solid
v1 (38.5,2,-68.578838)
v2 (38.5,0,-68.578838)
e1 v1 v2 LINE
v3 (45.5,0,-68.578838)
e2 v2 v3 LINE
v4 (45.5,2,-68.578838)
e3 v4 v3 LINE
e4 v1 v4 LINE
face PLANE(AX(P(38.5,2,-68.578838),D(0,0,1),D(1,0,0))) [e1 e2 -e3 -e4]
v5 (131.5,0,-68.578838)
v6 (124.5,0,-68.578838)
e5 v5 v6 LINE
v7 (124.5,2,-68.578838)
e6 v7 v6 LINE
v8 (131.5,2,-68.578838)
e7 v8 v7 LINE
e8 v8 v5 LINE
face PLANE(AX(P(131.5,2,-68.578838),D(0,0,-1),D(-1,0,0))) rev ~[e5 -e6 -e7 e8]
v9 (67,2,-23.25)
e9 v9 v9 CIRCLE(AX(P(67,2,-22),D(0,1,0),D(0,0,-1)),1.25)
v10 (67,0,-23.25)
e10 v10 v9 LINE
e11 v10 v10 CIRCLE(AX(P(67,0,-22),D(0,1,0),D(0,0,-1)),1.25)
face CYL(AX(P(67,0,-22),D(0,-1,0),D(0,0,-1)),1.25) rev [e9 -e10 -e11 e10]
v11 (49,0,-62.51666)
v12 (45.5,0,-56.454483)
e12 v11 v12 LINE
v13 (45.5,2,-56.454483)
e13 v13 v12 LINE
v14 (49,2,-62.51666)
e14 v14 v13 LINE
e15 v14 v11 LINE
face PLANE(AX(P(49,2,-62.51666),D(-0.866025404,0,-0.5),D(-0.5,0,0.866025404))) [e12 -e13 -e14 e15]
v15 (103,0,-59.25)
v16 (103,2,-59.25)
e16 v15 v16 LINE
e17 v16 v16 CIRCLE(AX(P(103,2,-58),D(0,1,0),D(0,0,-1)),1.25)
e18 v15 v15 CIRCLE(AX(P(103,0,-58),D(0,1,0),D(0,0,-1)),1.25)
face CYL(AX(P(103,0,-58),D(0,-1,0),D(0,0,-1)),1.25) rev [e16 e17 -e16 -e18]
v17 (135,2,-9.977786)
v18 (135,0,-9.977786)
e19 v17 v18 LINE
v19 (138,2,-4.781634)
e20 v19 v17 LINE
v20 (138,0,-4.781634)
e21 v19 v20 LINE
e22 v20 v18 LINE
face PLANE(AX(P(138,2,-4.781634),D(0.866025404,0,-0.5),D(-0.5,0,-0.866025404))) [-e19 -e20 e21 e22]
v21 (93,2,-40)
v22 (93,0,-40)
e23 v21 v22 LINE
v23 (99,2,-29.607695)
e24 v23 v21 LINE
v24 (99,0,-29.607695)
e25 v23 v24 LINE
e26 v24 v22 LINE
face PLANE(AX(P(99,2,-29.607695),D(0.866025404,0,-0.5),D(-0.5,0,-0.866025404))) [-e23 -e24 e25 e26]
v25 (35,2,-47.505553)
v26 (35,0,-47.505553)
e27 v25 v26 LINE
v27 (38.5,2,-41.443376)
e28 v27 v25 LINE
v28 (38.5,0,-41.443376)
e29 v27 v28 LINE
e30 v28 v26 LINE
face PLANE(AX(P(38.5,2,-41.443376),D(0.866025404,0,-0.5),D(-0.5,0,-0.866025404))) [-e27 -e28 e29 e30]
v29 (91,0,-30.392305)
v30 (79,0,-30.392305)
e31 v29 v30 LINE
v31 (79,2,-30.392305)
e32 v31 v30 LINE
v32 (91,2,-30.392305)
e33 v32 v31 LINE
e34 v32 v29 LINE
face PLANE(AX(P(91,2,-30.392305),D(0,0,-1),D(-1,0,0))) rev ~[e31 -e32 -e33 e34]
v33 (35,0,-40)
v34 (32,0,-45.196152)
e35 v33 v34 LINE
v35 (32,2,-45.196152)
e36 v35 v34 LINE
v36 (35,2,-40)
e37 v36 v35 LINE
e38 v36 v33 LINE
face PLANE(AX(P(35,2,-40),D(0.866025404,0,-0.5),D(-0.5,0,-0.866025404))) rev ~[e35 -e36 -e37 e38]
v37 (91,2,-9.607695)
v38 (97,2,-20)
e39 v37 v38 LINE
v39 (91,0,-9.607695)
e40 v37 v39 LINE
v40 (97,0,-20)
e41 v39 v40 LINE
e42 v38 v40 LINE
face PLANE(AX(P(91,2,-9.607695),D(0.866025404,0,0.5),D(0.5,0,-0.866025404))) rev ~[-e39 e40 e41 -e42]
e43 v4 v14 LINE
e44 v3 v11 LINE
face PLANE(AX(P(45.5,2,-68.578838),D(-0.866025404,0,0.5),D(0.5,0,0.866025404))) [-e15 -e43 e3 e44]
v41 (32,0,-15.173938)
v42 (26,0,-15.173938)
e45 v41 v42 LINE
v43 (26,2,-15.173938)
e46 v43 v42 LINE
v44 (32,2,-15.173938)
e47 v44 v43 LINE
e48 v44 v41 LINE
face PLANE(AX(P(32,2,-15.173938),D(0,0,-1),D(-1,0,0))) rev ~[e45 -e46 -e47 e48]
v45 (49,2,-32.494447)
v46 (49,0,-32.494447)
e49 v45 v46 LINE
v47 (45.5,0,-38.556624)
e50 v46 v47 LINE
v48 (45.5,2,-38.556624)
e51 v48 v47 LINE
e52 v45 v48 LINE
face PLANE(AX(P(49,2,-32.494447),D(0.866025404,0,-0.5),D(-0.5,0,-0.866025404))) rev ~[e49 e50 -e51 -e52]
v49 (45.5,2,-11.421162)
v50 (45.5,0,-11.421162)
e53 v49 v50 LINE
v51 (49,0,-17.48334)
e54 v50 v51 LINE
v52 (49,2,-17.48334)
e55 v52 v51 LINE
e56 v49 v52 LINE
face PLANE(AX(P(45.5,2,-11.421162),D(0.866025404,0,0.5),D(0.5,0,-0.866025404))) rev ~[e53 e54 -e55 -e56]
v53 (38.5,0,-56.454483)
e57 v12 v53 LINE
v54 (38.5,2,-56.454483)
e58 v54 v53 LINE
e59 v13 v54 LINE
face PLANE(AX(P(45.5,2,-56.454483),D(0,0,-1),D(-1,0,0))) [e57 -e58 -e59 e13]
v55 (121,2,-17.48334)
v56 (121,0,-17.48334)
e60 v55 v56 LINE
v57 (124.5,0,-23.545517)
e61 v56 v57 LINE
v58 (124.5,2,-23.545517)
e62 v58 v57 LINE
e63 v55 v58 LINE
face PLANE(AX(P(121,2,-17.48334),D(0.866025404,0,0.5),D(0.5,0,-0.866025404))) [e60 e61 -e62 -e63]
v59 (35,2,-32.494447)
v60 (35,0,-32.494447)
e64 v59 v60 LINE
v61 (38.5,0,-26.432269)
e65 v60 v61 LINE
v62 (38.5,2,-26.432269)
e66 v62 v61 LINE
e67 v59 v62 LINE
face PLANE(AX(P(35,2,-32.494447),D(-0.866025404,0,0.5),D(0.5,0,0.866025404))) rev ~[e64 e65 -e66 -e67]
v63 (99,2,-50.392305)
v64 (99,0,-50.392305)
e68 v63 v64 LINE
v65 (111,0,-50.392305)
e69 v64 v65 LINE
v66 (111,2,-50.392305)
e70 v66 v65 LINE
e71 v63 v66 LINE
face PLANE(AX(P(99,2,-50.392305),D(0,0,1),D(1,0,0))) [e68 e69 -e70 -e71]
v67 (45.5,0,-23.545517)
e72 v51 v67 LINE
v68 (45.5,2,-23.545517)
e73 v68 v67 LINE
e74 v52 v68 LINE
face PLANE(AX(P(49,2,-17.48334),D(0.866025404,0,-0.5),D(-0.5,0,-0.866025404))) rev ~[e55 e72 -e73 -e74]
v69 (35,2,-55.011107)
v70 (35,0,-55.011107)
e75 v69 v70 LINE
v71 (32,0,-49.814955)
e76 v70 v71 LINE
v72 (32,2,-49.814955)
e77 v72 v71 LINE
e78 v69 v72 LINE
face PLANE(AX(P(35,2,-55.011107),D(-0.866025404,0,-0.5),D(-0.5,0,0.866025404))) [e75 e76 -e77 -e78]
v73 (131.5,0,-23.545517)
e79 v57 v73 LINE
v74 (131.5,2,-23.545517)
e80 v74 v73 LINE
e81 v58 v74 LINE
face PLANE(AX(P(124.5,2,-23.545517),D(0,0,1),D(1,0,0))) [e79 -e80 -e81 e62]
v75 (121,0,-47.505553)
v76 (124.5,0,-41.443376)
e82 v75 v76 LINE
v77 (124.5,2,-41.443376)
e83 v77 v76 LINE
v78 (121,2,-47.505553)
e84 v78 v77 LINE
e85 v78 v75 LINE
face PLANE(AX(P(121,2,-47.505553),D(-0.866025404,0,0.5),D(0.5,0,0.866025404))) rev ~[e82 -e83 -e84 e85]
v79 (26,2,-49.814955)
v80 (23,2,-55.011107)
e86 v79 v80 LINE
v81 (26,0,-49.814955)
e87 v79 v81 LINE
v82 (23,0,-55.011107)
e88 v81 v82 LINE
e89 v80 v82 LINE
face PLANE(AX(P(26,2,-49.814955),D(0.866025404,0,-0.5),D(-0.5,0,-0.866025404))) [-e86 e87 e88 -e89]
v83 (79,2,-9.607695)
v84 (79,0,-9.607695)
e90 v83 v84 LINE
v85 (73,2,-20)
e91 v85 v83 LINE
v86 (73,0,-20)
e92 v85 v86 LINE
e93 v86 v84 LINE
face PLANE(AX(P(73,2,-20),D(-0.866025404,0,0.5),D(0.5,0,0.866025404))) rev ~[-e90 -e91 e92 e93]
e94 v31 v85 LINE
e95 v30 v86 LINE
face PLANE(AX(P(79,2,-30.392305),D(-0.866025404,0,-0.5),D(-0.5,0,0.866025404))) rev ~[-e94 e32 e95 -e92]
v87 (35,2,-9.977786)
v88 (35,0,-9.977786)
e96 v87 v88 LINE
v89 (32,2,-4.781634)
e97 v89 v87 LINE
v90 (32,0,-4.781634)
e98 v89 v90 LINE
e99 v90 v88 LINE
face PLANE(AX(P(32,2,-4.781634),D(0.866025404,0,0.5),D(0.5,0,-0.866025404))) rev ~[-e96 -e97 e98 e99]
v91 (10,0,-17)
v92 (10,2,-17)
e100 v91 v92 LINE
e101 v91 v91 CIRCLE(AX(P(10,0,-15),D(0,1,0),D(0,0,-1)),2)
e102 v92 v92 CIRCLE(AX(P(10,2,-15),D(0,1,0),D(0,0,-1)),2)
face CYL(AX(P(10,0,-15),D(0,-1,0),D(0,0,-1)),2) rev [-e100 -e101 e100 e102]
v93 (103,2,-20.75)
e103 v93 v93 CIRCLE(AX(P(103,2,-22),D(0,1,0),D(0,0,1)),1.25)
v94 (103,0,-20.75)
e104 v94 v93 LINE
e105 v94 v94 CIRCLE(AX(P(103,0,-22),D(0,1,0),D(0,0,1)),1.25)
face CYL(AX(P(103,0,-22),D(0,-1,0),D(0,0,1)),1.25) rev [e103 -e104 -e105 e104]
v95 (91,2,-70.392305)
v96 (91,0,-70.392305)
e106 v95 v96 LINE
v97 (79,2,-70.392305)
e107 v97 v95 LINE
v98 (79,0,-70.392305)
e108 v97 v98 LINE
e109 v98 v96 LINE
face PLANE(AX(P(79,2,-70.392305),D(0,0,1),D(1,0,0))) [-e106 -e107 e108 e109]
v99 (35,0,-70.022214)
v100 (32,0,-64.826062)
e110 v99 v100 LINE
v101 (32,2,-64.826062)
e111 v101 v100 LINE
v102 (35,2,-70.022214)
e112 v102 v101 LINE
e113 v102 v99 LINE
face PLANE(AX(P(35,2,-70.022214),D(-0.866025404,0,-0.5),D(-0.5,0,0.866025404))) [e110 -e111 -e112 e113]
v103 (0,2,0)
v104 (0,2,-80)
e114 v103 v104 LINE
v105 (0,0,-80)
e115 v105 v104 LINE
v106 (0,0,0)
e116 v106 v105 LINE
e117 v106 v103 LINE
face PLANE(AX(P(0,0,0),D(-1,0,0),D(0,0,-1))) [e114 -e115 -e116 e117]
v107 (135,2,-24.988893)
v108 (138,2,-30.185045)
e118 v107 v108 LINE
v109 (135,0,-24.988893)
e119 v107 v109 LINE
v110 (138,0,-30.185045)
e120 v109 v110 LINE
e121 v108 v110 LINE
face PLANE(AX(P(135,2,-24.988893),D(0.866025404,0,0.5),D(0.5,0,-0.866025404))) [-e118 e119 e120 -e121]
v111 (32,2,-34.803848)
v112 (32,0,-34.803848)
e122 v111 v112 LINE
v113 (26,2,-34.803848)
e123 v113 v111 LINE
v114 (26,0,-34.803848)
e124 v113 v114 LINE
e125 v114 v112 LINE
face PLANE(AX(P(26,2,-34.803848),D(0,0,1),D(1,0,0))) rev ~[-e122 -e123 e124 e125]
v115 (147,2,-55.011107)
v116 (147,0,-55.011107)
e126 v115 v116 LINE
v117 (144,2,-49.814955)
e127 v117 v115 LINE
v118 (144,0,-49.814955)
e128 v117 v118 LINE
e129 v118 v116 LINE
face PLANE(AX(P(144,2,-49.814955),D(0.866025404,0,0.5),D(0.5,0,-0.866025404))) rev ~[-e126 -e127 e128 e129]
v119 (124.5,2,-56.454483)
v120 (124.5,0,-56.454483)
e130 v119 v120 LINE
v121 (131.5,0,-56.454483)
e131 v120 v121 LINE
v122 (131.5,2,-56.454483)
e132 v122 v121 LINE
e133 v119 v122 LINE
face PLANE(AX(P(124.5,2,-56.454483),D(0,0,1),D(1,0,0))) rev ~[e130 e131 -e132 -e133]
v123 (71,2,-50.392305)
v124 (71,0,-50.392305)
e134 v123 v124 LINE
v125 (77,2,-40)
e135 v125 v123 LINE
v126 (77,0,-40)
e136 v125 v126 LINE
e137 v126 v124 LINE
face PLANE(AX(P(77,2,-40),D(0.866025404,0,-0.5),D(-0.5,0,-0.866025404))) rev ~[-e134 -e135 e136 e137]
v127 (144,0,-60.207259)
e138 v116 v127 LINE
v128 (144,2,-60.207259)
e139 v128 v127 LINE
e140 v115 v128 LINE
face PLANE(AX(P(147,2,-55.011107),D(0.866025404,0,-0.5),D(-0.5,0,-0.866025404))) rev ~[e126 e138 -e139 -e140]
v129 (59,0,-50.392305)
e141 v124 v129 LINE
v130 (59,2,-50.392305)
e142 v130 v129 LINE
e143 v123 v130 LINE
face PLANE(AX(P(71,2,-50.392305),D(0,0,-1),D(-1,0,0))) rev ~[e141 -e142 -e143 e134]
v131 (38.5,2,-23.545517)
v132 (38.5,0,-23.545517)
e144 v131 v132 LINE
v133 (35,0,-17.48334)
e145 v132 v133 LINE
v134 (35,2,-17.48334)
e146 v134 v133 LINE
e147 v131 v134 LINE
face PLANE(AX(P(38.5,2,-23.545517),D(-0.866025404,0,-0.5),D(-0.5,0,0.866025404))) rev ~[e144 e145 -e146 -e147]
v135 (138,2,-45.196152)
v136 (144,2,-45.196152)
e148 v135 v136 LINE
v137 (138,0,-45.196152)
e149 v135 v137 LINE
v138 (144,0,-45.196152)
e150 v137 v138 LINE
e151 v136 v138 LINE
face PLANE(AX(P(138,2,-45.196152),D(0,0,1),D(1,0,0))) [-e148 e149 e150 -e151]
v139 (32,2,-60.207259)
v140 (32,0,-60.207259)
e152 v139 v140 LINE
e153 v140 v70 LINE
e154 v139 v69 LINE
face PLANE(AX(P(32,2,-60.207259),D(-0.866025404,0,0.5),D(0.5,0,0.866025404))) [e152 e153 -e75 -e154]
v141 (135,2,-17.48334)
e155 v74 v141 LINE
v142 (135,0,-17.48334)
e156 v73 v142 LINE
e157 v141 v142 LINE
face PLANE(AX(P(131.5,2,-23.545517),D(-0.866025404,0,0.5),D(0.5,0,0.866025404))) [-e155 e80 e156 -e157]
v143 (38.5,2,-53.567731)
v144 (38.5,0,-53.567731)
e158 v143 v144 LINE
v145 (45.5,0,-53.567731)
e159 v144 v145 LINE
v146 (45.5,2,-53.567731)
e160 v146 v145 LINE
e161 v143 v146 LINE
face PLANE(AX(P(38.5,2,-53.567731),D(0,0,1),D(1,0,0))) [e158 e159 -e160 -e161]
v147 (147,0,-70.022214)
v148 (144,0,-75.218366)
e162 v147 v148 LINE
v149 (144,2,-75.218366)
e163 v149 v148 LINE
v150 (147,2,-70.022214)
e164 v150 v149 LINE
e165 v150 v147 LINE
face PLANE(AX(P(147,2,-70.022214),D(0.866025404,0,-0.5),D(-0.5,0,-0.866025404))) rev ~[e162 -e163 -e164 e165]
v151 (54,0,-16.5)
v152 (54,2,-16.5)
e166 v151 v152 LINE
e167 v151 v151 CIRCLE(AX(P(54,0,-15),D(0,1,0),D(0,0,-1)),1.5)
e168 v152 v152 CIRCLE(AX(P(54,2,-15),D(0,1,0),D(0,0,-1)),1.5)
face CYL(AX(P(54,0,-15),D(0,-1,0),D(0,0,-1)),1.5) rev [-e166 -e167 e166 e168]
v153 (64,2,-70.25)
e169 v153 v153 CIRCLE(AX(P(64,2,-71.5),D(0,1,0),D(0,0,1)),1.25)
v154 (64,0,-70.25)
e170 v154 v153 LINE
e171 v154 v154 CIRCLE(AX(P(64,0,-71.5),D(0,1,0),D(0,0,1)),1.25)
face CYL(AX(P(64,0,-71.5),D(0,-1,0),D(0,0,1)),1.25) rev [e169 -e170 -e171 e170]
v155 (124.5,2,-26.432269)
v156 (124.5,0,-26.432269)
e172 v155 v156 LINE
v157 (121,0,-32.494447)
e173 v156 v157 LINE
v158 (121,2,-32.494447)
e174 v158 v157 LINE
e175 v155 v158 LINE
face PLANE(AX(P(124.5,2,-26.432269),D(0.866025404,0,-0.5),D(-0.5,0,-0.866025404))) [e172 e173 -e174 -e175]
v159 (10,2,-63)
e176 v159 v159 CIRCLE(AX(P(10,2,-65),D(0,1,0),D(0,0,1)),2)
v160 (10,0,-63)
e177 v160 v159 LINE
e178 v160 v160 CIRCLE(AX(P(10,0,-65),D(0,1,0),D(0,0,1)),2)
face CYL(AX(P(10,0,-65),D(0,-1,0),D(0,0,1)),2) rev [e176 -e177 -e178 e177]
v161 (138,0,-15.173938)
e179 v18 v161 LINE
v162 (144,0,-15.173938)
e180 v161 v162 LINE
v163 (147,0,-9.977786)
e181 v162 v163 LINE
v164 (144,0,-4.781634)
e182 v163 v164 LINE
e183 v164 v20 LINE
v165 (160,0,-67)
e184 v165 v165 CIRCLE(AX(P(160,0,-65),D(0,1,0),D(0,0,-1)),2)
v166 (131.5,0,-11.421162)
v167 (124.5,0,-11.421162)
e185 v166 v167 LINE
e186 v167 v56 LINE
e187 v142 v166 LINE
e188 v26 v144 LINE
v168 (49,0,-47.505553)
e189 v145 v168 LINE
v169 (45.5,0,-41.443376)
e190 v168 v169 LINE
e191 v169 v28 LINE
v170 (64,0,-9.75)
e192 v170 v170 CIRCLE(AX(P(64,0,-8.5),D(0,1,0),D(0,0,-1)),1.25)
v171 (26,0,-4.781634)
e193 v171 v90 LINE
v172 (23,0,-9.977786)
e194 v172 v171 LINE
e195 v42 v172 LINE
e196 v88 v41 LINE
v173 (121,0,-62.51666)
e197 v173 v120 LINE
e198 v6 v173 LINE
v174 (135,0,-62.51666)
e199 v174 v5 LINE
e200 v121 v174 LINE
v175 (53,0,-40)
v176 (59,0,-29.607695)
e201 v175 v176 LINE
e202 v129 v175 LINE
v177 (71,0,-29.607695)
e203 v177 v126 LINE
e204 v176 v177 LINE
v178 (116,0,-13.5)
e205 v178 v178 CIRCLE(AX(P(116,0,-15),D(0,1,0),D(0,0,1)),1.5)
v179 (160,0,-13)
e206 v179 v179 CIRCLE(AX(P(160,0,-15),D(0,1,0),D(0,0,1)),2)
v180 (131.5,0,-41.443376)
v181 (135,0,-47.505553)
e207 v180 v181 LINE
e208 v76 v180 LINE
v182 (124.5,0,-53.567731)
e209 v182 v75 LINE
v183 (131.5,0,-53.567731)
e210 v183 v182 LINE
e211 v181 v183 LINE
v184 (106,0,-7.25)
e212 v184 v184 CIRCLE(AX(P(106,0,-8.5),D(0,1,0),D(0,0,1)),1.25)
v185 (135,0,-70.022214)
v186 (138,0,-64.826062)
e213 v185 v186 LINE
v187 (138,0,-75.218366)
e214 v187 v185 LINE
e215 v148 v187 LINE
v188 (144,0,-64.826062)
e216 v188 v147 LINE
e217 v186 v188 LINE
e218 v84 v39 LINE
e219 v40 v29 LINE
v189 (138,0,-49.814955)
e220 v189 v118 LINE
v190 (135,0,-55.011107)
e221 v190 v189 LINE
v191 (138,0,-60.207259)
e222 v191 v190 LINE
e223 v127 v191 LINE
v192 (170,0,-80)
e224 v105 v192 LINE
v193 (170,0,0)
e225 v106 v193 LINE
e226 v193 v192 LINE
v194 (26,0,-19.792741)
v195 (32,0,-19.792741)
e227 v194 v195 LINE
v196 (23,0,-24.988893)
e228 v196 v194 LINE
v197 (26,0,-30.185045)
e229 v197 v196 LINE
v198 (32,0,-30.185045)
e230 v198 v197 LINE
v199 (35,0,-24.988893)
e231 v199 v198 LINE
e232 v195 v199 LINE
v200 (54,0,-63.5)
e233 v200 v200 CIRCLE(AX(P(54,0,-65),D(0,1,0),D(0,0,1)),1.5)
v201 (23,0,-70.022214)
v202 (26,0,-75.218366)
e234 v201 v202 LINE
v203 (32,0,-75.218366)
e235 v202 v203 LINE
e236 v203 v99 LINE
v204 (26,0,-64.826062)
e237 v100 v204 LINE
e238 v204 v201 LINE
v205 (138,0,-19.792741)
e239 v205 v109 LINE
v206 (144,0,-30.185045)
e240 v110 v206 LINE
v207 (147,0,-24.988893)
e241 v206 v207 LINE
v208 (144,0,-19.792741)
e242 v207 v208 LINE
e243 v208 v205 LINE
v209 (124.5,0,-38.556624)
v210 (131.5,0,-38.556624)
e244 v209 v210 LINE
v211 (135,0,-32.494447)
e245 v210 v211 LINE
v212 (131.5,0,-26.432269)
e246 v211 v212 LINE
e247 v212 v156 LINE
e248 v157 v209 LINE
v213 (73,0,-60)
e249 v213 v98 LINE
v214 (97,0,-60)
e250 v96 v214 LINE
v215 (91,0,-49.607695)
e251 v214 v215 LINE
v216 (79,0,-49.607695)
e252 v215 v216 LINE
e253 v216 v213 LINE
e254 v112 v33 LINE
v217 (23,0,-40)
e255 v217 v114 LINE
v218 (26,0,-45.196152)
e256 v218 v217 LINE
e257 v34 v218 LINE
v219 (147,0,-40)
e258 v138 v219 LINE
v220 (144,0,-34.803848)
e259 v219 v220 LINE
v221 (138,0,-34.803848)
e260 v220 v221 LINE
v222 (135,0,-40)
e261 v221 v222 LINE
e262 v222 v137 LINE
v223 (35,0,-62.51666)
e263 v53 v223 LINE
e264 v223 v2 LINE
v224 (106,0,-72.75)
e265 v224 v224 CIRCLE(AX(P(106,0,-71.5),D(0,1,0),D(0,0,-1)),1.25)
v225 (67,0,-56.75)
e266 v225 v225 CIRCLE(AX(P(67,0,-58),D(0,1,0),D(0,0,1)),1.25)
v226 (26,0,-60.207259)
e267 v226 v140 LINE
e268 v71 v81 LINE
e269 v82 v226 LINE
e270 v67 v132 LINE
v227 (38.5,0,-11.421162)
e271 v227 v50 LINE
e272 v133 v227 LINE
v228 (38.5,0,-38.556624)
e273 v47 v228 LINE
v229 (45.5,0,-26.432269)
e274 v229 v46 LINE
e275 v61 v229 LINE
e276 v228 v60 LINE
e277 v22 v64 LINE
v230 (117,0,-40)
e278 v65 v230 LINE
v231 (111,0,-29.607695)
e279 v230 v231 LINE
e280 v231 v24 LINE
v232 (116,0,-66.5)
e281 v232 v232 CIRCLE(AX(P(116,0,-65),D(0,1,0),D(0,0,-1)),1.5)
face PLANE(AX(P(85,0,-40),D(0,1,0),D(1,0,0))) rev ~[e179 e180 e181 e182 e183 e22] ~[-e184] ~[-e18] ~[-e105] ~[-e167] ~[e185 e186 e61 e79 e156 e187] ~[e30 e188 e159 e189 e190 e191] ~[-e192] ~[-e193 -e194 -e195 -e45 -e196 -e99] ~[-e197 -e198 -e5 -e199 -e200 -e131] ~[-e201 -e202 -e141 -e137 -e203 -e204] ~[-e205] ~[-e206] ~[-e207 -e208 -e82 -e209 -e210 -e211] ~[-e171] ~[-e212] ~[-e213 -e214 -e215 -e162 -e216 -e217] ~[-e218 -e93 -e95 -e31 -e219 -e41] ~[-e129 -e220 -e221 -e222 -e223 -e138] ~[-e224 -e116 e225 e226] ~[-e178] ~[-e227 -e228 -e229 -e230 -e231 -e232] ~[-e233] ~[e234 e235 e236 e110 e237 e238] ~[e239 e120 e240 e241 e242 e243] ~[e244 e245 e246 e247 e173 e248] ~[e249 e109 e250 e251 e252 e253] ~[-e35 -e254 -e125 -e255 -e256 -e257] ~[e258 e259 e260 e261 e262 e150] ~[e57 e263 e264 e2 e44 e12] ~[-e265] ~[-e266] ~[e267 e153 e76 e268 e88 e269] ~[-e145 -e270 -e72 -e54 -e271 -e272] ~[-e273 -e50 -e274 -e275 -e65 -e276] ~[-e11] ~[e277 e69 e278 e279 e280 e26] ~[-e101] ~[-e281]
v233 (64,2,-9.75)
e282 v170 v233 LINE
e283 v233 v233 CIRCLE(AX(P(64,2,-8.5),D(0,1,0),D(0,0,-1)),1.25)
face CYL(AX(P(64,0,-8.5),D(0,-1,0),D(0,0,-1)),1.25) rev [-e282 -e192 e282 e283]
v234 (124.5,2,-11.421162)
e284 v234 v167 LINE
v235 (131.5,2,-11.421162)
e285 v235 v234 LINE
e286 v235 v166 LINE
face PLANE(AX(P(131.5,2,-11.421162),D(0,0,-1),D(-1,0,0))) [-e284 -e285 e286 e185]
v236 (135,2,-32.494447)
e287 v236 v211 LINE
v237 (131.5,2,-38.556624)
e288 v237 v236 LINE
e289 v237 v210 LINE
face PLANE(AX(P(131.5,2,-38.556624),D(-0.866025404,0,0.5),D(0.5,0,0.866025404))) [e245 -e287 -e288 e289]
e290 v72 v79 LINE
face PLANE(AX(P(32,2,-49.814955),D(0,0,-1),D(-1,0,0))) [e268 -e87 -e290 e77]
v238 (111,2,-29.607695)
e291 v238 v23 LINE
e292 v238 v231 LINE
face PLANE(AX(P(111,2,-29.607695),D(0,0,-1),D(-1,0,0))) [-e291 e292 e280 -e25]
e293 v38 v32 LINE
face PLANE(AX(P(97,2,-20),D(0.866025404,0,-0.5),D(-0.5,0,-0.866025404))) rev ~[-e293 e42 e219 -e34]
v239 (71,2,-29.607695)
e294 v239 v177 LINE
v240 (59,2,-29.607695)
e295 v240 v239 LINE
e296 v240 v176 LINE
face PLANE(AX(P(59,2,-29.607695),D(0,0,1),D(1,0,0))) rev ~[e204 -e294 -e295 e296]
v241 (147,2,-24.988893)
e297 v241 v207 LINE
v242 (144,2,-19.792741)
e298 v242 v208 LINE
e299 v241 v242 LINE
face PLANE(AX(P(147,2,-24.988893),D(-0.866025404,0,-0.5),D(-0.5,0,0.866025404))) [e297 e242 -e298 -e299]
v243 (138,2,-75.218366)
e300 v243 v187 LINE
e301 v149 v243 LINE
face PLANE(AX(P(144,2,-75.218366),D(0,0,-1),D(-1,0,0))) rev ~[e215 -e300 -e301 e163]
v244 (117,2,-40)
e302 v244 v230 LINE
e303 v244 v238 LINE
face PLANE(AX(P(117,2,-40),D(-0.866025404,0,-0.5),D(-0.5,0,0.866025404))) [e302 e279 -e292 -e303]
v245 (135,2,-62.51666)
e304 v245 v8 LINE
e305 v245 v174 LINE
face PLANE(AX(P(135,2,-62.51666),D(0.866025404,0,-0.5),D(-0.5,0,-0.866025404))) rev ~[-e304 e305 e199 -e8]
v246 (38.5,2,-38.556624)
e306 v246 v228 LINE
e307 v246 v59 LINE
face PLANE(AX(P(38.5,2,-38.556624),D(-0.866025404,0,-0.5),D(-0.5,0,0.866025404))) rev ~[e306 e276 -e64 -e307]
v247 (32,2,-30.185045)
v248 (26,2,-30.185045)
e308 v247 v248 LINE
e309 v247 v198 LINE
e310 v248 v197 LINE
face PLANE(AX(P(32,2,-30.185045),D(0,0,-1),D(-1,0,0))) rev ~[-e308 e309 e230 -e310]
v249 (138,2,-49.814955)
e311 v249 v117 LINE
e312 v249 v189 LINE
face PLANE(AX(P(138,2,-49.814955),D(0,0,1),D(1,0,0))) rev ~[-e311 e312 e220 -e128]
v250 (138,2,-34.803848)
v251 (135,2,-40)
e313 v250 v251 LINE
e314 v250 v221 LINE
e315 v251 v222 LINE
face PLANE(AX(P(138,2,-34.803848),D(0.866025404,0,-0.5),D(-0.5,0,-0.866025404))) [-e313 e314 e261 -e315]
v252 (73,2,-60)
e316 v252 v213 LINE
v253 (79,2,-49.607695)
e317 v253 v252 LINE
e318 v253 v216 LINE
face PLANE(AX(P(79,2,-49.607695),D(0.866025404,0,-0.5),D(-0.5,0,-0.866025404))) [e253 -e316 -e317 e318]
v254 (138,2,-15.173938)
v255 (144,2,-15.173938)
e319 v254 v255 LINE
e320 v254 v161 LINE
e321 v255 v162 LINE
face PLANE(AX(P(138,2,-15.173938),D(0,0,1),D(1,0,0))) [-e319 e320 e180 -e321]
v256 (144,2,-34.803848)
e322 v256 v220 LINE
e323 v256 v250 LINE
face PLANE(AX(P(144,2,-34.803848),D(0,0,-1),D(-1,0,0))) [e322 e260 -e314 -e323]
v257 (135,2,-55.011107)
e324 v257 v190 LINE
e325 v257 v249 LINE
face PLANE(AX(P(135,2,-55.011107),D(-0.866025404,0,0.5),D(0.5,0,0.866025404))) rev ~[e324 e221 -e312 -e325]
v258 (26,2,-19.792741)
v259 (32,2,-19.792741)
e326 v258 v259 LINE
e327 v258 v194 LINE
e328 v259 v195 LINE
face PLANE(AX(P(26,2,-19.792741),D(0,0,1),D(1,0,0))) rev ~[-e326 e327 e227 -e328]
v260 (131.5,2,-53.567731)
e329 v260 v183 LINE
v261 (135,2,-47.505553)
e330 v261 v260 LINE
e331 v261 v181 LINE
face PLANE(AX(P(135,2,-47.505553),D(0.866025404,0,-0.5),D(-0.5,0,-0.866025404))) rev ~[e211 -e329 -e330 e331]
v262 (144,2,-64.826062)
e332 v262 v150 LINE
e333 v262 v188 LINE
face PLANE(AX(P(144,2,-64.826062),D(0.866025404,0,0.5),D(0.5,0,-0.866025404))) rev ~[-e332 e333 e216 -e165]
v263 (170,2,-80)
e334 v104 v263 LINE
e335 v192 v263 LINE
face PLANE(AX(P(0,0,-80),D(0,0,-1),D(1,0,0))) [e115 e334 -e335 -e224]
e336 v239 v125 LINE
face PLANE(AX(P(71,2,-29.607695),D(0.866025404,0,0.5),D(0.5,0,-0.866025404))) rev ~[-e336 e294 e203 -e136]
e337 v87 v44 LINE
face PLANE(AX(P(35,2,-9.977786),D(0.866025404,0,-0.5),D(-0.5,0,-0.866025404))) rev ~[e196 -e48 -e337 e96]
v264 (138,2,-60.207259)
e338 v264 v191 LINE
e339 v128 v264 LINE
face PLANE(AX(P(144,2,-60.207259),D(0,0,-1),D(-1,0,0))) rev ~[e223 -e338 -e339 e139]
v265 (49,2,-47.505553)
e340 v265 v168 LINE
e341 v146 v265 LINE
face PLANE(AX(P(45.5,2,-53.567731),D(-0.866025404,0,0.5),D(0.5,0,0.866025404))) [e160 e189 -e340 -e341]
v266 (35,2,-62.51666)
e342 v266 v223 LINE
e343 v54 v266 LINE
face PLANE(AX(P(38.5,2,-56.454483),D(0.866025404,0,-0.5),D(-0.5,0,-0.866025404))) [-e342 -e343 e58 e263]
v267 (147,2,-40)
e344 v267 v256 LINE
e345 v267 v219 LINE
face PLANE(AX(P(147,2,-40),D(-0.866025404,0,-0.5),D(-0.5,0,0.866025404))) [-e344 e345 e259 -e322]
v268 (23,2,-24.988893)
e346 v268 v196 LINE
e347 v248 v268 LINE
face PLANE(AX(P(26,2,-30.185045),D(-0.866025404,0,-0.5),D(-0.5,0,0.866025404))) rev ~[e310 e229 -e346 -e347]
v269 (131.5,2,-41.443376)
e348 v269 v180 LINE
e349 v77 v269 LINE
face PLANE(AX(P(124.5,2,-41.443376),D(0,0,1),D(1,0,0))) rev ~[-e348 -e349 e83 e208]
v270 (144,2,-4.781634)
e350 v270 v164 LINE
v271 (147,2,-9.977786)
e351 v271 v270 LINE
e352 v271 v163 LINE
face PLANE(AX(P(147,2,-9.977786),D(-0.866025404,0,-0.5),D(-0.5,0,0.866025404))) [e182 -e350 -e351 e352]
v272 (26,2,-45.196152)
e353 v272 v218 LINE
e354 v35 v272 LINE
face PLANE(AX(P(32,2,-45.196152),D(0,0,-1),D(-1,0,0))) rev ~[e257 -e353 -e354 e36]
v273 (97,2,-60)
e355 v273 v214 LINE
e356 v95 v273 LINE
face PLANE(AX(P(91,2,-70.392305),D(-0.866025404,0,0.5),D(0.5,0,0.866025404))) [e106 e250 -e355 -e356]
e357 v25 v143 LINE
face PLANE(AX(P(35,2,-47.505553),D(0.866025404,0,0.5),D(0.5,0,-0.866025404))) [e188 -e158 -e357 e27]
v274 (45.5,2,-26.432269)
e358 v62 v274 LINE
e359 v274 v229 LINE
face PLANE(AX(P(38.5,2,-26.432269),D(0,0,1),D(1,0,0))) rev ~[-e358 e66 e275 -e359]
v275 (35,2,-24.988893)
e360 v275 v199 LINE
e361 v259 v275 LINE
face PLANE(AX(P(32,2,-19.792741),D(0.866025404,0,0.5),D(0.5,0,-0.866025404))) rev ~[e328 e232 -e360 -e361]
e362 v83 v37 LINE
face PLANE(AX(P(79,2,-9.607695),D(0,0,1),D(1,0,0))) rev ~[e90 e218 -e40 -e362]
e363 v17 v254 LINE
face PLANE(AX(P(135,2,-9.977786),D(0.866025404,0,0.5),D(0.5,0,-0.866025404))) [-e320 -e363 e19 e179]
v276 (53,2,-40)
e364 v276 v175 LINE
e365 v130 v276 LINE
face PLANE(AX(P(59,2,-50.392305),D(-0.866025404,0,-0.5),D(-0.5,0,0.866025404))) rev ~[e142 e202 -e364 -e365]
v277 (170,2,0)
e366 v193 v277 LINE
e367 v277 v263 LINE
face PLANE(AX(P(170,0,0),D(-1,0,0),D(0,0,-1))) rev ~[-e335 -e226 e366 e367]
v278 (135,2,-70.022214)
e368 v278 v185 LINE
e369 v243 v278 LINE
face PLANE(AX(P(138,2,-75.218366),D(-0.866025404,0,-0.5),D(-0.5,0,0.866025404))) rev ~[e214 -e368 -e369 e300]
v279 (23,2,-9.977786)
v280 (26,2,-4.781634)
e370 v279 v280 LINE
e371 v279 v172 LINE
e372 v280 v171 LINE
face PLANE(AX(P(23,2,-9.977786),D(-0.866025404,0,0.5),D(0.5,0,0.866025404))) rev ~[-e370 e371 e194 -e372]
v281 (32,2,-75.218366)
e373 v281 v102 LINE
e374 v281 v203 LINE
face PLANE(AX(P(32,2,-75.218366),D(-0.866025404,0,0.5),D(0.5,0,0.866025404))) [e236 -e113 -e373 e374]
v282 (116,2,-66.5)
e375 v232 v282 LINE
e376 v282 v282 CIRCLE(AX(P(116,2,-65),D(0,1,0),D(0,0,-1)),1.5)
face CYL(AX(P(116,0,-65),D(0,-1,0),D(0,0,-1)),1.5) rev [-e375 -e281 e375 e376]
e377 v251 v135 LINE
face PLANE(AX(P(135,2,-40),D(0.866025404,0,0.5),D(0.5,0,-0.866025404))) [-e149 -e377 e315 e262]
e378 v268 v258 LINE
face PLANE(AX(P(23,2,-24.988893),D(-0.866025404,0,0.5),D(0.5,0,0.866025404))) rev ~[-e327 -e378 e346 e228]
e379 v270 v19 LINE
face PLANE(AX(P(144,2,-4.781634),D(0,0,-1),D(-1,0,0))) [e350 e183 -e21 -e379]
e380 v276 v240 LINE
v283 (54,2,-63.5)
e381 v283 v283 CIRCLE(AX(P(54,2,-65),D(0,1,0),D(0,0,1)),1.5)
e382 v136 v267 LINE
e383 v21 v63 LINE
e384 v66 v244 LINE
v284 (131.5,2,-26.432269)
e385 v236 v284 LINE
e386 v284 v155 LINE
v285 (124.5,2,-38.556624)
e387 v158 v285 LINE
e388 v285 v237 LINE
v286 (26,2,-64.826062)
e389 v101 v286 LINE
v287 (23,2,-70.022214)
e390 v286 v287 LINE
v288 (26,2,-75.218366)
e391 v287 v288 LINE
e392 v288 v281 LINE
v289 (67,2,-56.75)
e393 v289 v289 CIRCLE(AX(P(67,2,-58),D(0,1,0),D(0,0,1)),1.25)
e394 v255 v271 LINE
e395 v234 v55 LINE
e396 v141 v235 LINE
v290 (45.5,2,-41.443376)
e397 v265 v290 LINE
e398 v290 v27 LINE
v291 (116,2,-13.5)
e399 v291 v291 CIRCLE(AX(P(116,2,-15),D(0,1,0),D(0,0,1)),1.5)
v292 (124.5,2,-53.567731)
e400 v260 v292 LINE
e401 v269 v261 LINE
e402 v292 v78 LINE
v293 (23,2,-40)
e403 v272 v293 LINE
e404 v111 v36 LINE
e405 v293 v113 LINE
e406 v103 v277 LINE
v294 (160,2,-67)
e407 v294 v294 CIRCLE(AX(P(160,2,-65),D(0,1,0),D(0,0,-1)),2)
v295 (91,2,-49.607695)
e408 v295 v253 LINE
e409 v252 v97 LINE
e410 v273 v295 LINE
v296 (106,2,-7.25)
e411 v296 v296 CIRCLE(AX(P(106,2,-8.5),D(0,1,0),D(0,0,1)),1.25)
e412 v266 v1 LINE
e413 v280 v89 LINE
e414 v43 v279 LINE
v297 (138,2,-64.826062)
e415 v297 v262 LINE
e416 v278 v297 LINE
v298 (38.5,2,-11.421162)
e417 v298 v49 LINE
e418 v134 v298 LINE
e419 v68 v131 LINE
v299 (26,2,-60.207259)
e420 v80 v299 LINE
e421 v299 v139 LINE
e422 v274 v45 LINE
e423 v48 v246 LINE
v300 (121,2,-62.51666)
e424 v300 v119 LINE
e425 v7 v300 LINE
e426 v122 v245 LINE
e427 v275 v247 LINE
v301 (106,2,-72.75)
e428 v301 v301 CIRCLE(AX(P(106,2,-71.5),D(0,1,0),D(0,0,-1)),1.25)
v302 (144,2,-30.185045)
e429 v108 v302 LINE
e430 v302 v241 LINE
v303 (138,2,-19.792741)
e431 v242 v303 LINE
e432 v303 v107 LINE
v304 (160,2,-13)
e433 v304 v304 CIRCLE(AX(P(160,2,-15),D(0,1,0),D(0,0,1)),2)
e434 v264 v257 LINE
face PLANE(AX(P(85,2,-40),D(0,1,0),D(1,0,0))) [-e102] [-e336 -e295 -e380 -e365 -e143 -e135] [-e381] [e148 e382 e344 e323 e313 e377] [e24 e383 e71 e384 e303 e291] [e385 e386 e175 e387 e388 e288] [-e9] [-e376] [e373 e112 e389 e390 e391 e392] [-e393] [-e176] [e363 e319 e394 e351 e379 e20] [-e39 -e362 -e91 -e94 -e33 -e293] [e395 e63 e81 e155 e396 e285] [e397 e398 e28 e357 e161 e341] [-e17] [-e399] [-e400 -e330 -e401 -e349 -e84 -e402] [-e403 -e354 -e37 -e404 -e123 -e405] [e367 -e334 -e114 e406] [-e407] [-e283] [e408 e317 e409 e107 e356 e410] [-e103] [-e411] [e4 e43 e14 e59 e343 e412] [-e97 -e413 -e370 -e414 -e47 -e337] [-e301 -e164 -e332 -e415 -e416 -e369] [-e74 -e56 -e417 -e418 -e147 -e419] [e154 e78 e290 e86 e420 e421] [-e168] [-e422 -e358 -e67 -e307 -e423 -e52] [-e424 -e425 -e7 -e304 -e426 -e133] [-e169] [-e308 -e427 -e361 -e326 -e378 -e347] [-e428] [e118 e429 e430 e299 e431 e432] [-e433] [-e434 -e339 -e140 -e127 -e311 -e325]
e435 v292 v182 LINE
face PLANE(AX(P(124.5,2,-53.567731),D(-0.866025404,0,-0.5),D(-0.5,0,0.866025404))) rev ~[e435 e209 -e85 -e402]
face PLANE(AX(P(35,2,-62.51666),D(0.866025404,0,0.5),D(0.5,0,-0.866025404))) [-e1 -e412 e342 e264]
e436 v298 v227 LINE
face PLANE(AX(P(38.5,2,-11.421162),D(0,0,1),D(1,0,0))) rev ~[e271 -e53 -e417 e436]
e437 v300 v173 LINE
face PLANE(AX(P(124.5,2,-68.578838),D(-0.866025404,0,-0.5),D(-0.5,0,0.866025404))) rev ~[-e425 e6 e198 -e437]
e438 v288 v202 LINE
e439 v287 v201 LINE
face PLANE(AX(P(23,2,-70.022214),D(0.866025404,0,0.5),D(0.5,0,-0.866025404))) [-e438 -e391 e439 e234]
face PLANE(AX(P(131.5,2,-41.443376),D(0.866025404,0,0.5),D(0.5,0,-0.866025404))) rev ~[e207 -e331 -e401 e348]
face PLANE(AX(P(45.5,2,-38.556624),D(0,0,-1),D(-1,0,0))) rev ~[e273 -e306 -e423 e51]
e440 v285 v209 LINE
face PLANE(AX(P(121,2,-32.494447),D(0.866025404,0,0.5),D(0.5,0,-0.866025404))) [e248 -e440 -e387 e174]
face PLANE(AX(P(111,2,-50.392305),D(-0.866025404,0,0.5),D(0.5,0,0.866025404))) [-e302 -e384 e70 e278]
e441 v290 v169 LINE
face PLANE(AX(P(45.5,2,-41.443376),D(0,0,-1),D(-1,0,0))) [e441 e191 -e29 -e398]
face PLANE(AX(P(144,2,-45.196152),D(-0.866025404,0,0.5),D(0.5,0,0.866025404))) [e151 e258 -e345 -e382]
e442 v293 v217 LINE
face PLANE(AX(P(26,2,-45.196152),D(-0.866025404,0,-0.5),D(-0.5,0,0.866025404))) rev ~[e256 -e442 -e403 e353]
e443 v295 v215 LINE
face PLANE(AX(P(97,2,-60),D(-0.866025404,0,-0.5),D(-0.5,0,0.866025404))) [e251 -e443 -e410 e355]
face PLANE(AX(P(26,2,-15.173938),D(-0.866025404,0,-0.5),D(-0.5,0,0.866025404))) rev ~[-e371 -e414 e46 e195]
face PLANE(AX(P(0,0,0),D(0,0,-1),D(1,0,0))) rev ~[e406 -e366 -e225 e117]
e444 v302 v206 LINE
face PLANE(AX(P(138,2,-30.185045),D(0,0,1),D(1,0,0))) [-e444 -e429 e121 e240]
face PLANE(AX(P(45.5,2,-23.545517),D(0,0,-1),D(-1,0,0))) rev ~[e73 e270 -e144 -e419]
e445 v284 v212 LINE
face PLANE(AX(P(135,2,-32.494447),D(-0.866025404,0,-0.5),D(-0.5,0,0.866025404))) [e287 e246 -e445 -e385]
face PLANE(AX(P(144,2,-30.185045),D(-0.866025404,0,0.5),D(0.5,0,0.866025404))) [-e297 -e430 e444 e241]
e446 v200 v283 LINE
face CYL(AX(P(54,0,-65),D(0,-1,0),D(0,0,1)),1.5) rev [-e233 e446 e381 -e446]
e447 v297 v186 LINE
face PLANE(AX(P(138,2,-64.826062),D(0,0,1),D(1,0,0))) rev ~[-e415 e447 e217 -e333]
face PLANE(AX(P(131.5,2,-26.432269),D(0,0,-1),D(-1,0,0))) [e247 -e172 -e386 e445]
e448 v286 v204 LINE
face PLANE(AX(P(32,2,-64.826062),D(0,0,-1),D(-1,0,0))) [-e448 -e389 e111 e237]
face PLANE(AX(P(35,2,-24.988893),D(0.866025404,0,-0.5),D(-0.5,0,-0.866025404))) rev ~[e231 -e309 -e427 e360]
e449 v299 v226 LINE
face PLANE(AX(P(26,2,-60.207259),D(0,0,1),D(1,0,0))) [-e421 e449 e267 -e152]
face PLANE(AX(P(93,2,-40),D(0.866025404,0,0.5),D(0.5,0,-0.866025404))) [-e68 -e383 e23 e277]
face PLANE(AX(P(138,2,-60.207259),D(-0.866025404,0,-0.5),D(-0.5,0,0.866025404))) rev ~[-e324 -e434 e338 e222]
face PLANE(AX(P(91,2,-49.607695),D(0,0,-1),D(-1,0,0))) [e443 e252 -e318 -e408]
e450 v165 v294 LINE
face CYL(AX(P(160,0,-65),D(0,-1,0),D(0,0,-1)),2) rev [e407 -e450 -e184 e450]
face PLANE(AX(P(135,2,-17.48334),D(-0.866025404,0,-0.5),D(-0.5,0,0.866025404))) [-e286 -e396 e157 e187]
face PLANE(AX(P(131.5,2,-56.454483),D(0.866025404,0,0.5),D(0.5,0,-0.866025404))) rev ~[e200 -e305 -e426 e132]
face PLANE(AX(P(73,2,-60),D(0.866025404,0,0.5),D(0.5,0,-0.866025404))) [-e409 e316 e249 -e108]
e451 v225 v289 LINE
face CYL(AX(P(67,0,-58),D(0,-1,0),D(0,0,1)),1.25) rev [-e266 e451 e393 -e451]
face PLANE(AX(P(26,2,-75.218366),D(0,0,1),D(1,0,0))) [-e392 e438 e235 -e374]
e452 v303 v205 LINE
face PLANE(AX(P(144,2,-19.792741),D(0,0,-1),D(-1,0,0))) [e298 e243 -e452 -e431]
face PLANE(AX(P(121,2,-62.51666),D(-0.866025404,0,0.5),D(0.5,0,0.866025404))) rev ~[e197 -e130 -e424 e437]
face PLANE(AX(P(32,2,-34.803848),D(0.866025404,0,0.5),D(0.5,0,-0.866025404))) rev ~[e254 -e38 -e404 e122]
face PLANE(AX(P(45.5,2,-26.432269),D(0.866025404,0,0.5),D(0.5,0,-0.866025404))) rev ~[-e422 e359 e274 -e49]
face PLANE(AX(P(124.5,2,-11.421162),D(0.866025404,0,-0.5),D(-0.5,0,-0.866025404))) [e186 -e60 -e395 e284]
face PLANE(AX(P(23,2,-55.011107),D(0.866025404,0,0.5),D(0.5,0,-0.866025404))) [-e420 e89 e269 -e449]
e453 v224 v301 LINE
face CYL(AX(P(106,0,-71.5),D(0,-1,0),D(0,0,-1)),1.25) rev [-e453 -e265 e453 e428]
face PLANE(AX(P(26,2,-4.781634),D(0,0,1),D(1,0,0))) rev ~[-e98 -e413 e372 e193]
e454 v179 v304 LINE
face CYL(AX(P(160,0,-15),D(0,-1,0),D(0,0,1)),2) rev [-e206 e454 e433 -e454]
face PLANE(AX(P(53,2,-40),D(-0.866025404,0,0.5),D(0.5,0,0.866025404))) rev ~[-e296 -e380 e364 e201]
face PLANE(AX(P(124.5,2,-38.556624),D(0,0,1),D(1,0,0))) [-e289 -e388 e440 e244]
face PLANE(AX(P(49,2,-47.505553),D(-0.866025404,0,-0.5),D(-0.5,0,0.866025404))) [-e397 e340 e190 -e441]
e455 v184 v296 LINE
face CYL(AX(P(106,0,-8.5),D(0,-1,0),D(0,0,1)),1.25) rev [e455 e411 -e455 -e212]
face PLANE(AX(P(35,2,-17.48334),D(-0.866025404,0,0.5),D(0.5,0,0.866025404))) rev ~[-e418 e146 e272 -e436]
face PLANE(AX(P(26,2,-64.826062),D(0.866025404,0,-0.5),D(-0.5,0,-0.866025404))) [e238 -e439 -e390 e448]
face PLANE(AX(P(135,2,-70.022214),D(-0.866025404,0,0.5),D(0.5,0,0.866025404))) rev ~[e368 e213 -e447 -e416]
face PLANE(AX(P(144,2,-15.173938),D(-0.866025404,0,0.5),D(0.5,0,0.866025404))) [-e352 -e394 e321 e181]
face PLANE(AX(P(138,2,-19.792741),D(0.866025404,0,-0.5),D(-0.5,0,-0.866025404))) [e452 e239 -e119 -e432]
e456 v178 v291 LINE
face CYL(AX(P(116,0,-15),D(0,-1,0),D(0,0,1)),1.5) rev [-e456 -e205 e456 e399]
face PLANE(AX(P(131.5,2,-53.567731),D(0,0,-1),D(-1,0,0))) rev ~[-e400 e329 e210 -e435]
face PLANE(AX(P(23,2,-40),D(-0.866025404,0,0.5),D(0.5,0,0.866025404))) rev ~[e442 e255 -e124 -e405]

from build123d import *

# Parameters (mm, degrees)
SKETCH_1_W          = 170
SKETCH_1_H          = 80
SKETCH_1_R          = 2
SKETCH_1_R_2        = 1.25
SKETCH_1_R_3        = 1.5
EXTRUDE_1_DEPTH     = 2
CUT_EXTRUDE_1_DEPTH = 50
CUT_EXTRUDE_2_DEPTH = 50
CUT_EXTRUDE_3_DEPTH = 50


with BuildPart() as part:
    # 草图1 → 凸台-拉伸1 (new body)
    with BuildSketch(Plane(origin=(0, 0, 0), x_dir=(1, 0, 0), z_dir=(0, 1, 0))):
        with Locations((85, 40)):
            Rectangle(SKETCH_1_W, SKETCH_1_H)
        with Locations(Location((10, 65, 0), (0, 0, 270))):
            Circle(SKETCH_1_R, mode=Mode.SUBTRACT)
        with Locations(Location((10, 15, 0), (0, 0, 90))):
            Circle(SKETCH_1_R, mode=Mode.SUBTRACT)
        with Locations(Location((160, 15, 0), (0, 0, 270))):
            Circle(SKETCH_1_R, mode=Mode.SUBTRACT)
        with Locations(Location((160, 65, 0), (0, 0, 90))):
            Circle(SKETCH_1_R, mode=Mode.SUBTRACT)
        with Locations(Location((67, 58, 0), (0, 0, 270))):
            Circle(SKETCH_1_R_2, mode=Mode.SUBTRACT)
        with Locations(Location((67, 22, 0), (0, 0, 90))):
            Circle(SKETCH_1_R_2, mode=Mode.SUBTRACT)
        with Locations(Location((103, 22, 0), (0, 0, 270))):
            Circle(SKETCH_1_R_2, mode=Mode.SUBTRACT)
        with Locations(Location((103, 58, 0), (0, 0, 90))):
            Circle(SKETCH_1_R_2, mode=Mode.SUBTRACT)
        with Locations(Location((64, 71.5, 0), (0, 0, 270))):
            Circle(SKETCH_1_R_2, mode=Mode.SUBTRACT)
        with Locations(Location((64, 8.5, 0), (0, 0, 90))):
            Circle(SKETCH_1_R_2, mode=Mode.SUBTRACT)
        with Locations(Location((106, 8.5, 0), (0, 0, 270))):
            Circle(SKETCH_1_R_2, mode=Mode.SUBTRACT)
        with Locations(Location((106, 71.5, 0), (0, 0, 90))):
            Circle(SKETCH_1_R_2, mode=Mode.SUBTRACT)
        with Locations(Location((54, 65, 0), (0, 0, 270))):
            Circle(SKETCH_1_R_3, mode=Mode.SUBTRACT)
        with Locations(Location((54, 15, 0), (0, 0, 90))):
            Circle(SKETCH_1_R_3, mode=Mode.SUBTRACT)
        with Locations(Location((116, 15, 0), (0, 0, 270))):
            Circle(SKETCH_1_R_3, mode=Mode.SUBTRACT)
        with Locations(Location((116, 65, 0), (0, 0, 90))):
            Circle(SKETCH_1_R_3, mode=Mode.SUBTRACT)
    extrude(amount=EXTRUDE_1_DEPTH)

    # 草图3 → 切除-拉伸1 (cut)
    with BuildSketch(Plane(origin=(0, 2, 0), x_dir=(1, 0, 0), z_dir=(0, 1, 0))):
        Polygon((26, 15.173938425), (23, 9.977786002), (26, 4.781633579), (32, 4.781633579), (35, 9.977786002), (32, 15.173938425), align=None)
        Polygon((38.5, 23.545517328), (35, 17.483339502), (38.5, 11.421161675), (45.5, 11.421161675), (49, 17.483339502), (45.5, 23.545517328), align=None)
        Polygon((32, 30.185045424), (26, 30.185045424), (23, 24.988893001), (26, 19.792740578), (32, 19.792740578), (35, 24.988893001), align=None)
        Polygon((45.5, 38.556624327), (38.5, 38.556624327), (35, 32.494446501), (38.5, 26.432268674), (45.5, 26.432268674), (49, 32.494446501), align=None)
        Polygon((32, 45.196152423), (26, 45.196152423), (23, 40), (26, 34.803847577), (32, 34.803847577), (35, 40), align=None)
        Polygon((49, 47.505553499), (45.5, 41.443375673), (38.5, 41.443375673), (35, 47.505553499), (38.5, 53.567731326), (45.5, 53.567731326), align=None)
        Polygon((45.5, 56.454482672), (38.5, 56.454482672), (35, 62.516660498), (38.5, 68.578838325), (45.5, 68.578838325), (49, 62.516660498), align=None)
        Polygon((35, 55.011106999), (32, 49.814954576), (26, 49.814954576), (23, 55.011106999), (26, 60.207259422), (32, 60.207259422), align=None)
        Polygon((32, 64.826061575), (26, 64.826061575), (23, 70.022213998), (26, 75.218366421), (32, 75.218366421), (35, 70.022213998), align=None)
        Polygon((144, 64.826061575), (147, 70.022213998), (144, 75.218366421), (138, 75.218366421), (135, 70.022213998), (138, 64.826061575), align=None)
        Polygon((138, 49.814954576), (144, 49.814954576), (147, 55.011106999), (144, 60.207259422), (138, 60.207259422), (135, 55.011106999), align=None)
        Polygon((131.5, 56.454482672), (135, 62.516660498), (131.5, 68.578838325), (124.5, 68.578838325), (121, 62.516660498), (124.5, 56.454482672), align=None)
        Polygon((124.5, 41.443375673), (131.5, 41.443375673), (135, 47.505553499), (131.5, 53.567731326), (124.5, 53.567731326), (121, 47.505553499), align=None)
        Polygon((135, 40), (138, 45.196152423), (144, 45.196152423), (147, 40), (144, 34.803847577), (138, 34.803847577), align=None)
        Polygon((121, 32.494446501), (124.5, 38.556624327), (131.5, 38.556624327), (135, 32.494446501), (131.5, 26.432268674), (124.5, 26.432268674), align=None)
        Polygon((135, 24.988893001), (138, 30.185045424), (144, 30.185045424), (147, 24.988893001), (144, 19.792740578), (138, 19.792740578), align=None)
        Polygon((124.5, 23.545517328), (131.5, 23.545517328), (135, 17.483339502), (131.5, 11.421161675), (124.5, 11.421161675), (121, 17.483339502), align=None)
        Polygon((138, 15.173938425), (144, 15.173938425), (147, 9.977786002), (144, 4.781633579), (138, 4.781633579), (135, 9.977786002), align=None)
    extrude(amount=-CUT_EXTRUDE_1_DEPTH, mode=Mode.SUBTRACT)

    # 草图4 → 切除-拉伸2 (cut)
    with BuildSketch(Plane(origin=(0, 2, 0), x_dir=(1, 0, 0), z_dir=(0, 1, 0))):
        Polygon((77, 40), (71, 50.392304845), (59, 50.392304845), (53, 40), (59, 29.607695155), (71, 29.607695155), align=None)
        Polygon((99, 29.607695155), (93, 40), (99, 50.392304845), (111, 50.392304845), (117, 40), (111, 29.607695155), align=None)
    extrude(amount=-CUT_EXTRUDE_2_DEPTH, mode=Mode.SUBTRACT)

    # 草图5 → 切除-拉伸3 (cut)
    with BuildSketch(Plane(origin=(0, 2, 0), x_dir=(1, 0, 0), z_dir=(0, 1, 0))):
        Polygon((91, 30.392304845), (79, 30.392304845), (73, 20), (79, 9.607695155), (91, 9.607695155), (97, 20), align=None)
        Polygon((97, 60), (91, 49.607695155), (79, 49.607695155), (73, 60), (79, 70.392304845), (91, 70.392304845), align=None)
    extrude(amount=-CUT_EXTRUDE_3_DEPTH, mode=Mode.SUBTRACT)


solid = part.part
